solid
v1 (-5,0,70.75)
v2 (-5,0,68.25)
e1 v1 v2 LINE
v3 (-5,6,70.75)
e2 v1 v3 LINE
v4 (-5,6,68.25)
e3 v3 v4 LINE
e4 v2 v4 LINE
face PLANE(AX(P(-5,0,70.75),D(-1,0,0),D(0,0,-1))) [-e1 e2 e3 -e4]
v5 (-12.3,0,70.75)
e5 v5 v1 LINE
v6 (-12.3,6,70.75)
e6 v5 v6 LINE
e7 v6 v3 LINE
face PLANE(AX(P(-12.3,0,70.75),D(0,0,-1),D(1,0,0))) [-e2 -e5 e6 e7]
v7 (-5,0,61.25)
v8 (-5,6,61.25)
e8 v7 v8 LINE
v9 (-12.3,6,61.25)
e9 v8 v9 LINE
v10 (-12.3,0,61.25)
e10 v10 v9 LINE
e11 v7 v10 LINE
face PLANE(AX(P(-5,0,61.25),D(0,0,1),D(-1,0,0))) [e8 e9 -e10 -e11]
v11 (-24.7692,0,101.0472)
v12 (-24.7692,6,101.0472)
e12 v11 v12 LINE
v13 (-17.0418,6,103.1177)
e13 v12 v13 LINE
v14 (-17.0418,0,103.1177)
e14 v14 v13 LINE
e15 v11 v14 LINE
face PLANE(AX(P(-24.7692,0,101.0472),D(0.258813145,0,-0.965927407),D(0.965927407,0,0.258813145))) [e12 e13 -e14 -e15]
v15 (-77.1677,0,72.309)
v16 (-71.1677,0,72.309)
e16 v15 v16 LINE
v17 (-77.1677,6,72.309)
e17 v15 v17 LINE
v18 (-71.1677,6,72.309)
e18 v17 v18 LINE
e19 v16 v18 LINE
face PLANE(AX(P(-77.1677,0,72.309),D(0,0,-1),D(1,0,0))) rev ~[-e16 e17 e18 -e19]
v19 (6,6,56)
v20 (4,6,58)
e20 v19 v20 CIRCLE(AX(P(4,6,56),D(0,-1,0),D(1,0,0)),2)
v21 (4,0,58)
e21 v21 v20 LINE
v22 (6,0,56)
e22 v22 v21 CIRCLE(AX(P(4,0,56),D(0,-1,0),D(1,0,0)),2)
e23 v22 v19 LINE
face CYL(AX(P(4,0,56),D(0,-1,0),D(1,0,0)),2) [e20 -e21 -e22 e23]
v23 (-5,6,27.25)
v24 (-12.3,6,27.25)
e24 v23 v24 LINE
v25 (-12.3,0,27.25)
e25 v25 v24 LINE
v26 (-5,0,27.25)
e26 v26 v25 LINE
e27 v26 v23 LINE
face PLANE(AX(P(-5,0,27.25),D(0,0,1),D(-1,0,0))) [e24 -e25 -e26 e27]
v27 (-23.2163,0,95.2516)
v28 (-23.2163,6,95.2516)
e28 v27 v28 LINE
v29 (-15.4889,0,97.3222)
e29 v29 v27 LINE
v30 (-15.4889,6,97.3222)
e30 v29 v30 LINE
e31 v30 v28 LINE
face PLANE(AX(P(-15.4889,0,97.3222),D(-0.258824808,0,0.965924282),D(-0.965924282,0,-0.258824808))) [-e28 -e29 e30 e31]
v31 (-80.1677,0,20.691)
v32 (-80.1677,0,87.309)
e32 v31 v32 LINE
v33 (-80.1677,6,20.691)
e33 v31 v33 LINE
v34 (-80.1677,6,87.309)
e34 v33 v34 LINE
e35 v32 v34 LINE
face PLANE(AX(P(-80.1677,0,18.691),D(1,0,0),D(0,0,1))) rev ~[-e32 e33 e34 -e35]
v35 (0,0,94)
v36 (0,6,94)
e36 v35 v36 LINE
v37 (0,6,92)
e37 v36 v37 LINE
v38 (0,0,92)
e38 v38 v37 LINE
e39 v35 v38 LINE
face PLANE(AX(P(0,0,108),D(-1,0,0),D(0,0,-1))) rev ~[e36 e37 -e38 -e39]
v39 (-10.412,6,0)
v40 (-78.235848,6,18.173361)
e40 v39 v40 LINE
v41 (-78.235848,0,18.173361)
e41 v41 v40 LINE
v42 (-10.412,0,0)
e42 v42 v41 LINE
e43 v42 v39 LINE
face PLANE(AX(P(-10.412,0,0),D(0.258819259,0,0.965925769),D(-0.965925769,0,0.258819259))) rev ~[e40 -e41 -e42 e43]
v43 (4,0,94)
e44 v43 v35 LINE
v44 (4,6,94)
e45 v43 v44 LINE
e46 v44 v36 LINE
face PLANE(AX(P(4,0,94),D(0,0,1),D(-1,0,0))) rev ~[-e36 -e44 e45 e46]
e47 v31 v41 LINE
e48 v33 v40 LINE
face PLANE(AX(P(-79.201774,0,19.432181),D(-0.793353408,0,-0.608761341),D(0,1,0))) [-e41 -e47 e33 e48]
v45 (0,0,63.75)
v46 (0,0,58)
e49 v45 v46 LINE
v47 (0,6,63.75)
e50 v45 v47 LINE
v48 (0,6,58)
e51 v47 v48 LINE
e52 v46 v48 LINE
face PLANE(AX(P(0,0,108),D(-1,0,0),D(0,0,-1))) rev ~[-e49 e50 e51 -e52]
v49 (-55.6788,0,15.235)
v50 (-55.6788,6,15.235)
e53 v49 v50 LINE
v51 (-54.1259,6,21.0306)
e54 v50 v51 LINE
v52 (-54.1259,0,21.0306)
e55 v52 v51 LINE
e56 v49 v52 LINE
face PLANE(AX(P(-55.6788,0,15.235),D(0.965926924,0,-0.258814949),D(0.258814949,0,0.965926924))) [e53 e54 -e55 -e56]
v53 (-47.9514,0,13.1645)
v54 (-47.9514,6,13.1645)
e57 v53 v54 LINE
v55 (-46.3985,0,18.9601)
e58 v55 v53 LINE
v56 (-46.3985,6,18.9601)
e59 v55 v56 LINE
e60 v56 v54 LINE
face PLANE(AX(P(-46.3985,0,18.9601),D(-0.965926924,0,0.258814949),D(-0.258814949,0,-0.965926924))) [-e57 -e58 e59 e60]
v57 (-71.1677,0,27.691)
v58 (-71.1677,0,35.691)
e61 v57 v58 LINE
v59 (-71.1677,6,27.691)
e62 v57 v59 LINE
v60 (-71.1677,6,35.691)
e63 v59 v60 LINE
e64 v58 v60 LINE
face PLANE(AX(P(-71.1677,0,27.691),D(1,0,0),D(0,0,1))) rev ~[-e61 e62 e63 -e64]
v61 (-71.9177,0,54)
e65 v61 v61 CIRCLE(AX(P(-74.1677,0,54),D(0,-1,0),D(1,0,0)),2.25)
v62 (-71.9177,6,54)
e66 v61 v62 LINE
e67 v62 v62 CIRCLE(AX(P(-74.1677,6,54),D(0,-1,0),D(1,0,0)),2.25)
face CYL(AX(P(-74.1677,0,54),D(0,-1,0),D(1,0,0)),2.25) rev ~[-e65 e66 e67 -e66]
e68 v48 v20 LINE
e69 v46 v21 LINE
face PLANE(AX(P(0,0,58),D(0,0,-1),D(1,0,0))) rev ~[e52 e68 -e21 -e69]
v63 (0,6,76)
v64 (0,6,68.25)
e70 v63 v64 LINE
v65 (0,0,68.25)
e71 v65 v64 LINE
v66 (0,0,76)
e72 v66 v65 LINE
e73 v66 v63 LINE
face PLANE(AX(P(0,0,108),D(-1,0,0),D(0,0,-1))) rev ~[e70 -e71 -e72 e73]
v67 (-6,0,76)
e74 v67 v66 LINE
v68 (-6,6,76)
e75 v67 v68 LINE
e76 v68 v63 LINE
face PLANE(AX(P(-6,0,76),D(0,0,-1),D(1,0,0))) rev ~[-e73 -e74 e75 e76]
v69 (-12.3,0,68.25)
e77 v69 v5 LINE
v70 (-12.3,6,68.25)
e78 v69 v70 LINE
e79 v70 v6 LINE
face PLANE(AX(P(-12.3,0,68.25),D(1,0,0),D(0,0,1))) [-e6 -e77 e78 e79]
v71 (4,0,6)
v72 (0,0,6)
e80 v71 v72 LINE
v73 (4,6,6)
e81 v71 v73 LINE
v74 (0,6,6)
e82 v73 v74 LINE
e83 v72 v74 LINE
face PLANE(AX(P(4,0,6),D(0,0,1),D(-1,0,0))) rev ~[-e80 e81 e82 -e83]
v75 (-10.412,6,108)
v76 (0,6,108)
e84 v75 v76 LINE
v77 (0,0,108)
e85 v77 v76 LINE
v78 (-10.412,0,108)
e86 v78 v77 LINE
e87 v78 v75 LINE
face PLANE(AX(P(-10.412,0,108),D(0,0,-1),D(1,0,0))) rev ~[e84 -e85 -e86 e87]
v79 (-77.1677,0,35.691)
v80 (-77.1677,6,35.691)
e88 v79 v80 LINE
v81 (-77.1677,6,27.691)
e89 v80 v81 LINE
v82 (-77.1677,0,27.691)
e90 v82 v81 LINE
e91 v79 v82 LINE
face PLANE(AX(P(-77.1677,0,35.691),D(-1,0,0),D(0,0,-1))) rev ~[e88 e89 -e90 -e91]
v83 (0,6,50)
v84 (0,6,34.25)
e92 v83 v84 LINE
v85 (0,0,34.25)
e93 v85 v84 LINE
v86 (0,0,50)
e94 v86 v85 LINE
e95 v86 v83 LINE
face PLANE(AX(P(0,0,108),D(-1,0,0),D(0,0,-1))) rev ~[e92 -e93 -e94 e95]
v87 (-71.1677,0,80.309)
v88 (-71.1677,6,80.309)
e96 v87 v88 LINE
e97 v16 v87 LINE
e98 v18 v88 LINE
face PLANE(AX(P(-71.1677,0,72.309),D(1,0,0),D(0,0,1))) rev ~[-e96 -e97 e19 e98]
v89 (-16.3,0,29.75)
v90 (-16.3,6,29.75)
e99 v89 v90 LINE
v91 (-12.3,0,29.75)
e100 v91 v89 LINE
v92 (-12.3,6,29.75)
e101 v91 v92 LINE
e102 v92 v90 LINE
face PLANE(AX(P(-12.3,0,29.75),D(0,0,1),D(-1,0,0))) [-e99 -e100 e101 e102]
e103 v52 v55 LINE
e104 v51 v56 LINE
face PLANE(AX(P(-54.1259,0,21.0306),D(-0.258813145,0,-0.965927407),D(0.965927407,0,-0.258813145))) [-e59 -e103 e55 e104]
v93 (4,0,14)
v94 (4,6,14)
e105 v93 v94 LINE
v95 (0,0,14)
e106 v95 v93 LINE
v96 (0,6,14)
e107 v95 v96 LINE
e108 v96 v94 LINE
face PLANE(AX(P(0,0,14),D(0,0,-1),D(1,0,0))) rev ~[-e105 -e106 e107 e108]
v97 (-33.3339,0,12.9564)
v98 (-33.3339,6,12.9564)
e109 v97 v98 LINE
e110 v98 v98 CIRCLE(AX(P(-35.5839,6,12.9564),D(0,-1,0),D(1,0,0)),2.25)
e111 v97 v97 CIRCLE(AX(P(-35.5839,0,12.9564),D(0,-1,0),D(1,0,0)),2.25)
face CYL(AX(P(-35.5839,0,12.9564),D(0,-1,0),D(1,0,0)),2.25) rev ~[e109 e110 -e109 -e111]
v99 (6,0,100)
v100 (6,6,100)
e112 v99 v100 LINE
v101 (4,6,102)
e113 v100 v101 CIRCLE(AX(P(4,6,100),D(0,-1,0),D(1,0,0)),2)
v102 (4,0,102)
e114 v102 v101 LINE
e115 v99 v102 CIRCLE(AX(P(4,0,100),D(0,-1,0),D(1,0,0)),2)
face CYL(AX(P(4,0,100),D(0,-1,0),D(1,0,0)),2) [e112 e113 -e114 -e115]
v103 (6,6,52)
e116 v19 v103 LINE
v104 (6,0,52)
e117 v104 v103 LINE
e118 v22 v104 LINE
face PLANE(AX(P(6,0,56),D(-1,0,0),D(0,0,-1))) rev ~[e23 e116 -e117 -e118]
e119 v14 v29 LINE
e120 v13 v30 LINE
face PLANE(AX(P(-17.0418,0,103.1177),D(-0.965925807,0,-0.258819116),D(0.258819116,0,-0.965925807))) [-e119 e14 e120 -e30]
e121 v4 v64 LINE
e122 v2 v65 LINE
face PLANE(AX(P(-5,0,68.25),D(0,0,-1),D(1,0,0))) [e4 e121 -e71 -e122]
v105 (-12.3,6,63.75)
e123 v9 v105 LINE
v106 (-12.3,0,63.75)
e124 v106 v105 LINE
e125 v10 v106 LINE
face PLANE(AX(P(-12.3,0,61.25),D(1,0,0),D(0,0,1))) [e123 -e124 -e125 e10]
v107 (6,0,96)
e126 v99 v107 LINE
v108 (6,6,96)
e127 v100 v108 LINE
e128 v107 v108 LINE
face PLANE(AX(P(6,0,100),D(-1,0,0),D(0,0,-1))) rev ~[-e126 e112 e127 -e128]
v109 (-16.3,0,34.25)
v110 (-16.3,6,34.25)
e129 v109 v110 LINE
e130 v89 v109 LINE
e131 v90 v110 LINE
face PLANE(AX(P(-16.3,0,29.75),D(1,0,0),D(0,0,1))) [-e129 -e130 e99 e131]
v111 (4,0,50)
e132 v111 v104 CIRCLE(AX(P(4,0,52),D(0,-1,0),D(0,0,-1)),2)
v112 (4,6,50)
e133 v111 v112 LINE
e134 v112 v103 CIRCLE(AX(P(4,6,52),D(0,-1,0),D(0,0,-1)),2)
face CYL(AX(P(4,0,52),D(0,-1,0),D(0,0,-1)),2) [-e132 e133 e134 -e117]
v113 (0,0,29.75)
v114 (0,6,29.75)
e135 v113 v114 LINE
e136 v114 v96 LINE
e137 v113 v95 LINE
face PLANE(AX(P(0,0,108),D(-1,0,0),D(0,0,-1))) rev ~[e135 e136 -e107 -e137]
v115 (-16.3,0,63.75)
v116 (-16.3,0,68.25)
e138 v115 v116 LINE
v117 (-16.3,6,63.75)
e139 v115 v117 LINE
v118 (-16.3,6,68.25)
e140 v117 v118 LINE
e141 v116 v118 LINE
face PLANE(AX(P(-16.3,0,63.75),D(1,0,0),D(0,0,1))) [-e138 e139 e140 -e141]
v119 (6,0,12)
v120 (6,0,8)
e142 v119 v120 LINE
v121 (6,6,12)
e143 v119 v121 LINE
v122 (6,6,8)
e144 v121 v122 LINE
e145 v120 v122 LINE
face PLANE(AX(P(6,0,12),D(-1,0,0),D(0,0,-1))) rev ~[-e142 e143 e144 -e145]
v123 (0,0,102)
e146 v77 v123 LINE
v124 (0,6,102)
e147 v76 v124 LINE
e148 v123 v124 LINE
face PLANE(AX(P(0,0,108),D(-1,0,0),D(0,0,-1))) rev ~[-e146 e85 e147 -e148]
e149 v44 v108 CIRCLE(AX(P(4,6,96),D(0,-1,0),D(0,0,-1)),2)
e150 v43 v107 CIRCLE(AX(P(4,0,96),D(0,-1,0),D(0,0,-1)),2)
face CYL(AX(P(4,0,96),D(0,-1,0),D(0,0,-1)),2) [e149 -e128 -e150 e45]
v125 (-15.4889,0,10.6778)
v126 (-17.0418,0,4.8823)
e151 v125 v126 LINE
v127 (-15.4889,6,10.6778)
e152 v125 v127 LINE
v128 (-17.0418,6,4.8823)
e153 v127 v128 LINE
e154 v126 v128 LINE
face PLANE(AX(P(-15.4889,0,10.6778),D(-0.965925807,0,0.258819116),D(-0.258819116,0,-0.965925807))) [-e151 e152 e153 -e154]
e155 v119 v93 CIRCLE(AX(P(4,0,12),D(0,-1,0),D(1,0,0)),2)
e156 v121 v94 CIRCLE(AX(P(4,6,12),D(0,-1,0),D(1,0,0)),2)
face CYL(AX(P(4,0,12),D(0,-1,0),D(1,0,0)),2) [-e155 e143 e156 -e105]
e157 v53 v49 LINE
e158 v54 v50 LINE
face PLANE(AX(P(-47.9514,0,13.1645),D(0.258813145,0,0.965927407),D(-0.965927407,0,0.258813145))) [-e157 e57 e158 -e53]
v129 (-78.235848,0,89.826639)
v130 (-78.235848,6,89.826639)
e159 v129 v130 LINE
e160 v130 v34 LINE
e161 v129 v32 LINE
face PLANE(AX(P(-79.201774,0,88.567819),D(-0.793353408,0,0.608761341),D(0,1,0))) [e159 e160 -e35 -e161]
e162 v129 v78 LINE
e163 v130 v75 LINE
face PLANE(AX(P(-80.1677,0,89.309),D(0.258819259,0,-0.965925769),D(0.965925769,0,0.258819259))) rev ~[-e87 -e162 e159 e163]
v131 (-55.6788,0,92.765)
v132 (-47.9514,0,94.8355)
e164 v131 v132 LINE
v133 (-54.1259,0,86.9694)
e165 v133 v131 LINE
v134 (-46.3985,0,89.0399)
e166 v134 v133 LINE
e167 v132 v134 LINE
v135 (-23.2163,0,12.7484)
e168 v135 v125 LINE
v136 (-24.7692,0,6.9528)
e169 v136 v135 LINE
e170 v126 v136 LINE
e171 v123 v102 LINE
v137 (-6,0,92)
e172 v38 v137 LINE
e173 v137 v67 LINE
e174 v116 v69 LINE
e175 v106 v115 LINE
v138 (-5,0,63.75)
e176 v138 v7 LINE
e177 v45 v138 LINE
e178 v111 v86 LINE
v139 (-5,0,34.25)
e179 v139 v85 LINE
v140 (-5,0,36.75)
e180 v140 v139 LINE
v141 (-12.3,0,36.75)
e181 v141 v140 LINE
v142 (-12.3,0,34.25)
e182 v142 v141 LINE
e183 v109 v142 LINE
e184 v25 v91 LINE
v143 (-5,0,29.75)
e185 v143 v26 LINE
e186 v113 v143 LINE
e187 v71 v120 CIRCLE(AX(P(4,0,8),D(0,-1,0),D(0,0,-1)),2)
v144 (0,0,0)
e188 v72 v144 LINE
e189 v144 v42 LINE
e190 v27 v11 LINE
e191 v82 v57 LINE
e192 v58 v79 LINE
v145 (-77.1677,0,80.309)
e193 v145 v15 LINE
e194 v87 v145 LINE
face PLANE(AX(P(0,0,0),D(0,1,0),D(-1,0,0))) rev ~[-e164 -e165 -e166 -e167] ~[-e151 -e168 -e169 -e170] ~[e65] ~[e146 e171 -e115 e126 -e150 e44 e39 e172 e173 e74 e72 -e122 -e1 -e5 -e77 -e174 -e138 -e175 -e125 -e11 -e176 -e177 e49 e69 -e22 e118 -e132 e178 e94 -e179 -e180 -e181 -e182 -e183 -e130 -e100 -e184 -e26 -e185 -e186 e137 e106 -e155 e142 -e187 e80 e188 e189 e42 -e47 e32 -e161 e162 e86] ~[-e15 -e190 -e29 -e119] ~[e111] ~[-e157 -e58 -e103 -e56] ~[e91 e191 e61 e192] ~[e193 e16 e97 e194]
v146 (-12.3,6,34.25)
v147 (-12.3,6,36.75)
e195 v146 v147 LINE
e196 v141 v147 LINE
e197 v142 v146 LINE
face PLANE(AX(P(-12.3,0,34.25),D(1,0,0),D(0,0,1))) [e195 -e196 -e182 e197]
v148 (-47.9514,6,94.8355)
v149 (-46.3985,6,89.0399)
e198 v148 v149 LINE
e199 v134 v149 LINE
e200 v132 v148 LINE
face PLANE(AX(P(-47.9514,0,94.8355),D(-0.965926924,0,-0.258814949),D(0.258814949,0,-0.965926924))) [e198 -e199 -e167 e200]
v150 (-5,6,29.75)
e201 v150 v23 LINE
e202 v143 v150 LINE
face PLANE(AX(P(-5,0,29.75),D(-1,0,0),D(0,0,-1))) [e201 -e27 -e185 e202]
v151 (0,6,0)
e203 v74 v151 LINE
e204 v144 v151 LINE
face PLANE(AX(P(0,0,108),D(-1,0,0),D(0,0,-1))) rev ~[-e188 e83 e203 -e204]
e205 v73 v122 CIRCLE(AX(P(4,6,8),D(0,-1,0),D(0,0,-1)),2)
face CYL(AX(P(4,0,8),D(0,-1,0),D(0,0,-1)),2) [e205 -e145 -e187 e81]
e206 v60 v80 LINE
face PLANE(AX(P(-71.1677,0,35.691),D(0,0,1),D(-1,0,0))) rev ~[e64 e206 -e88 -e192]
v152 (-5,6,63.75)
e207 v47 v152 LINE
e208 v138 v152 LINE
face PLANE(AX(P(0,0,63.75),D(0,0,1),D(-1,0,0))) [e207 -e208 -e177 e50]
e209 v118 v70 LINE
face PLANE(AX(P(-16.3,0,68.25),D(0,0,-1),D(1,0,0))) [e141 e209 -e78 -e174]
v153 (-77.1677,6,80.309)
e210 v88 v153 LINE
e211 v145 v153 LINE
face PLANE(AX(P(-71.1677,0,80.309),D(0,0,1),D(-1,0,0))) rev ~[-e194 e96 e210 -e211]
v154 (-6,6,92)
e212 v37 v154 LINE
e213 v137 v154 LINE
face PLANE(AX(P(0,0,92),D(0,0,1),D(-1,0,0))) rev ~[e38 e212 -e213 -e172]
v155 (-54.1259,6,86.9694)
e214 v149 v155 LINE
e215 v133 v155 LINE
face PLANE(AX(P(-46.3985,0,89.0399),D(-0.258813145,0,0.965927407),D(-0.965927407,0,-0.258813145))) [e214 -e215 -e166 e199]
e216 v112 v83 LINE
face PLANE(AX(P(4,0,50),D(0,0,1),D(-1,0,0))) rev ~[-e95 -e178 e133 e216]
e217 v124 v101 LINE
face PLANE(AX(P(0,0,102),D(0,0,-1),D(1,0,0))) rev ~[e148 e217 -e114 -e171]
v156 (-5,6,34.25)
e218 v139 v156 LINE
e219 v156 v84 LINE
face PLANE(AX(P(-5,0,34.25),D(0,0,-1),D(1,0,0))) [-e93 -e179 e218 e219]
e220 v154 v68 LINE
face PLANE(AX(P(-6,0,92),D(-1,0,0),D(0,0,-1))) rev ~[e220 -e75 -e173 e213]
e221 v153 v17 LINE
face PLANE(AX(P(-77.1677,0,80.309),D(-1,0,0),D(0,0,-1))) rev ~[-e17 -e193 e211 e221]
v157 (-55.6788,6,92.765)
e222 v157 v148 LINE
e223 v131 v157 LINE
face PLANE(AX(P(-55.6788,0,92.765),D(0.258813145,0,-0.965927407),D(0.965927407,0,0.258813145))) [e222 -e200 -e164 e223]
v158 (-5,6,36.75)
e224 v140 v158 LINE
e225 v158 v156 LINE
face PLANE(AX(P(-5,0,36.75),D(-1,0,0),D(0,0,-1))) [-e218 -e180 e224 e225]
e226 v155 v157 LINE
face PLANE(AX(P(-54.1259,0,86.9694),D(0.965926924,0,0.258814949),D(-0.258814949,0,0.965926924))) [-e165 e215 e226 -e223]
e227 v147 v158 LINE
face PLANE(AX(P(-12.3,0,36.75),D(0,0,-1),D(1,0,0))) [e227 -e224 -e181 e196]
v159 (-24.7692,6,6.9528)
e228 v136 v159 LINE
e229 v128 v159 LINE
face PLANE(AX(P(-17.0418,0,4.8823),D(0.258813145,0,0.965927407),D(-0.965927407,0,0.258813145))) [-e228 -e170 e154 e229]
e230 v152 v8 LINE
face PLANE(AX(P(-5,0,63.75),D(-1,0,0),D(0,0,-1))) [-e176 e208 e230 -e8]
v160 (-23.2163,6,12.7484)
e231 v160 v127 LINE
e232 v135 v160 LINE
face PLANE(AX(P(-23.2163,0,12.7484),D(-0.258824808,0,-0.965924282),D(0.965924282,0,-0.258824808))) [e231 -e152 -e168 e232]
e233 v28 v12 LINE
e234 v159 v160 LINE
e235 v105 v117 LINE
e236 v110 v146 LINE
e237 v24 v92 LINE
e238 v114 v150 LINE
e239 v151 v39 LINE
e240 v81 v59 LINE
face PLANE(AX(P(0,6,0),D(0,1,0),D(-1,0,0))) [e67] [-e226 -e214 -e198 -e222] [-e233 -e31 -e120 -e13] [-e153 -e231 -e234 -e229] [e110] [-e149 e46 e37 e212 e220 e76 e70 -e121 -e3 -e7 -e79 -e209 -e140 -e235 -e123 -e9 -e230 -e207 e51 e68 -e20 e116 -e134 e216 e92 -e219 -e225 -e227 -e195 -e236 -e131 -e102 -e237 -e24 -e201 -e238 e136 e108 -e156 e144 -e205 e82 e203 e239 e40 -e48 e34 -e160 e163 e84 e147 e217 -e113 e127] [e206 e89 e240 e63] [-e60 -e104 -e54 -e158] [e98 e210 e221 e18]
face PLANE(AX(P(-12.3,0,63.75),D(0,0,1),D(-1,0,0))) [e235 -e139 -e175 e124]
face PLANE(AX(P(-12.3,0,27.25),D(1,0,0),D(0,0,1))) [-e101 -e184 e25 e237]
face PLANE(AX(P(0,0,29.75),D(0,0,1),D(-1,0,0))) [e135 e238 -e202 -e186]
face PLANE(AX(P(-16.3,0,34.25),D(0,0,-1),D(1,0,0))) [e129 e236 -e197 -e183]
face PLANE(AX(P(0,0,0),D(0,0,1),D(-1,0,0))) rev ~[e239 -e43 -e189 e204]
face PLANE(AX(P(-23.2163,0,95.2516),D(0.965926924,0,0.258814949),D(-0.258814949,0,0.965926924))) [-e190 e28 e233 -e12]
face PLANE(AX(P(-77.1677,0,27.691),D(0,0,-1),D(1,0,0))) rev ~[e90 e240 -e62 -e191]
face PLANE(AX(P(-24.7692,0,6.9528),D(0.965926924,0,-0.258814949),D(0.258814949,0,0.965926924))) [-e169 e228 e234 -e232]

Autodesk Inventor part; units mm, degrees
ref_plane "YZ Plane" through (0, 0, 0) normal (1, 0, 0) x (0, 1, 0)
ref_plane "XZ Plane" through (0, 0, 0) normal (0, 1, 0) x (-1, 0, 0)
ref_plane "XY Plane" through (0, 0, 0) normal (0, 0, 1) x (1, 0, 0)
sketch "Sketch1" plane through (0, 0, 0) normal (0, 1, 0) x (-1, 0, 0)
  line L0 (0, 108) -> (0, 0)
  line L1 (0, 0) -> (10.412, 0)
  line L2 (10.412, 0) -> (80.1677, 18.691)
  line L3 (80.1677, 18.691) -> (80.1677, 89.309)
  line L4 (80.1677, 89.309) -> (10.412, 108)
  line L5 (10.412, 108) -> (0, 108)
  line L6 (2.5529, 107) -> (1, 101.2044) construction
  line L7 (1, 101.2044) -> (68.6148, 83.0871) construction
  line L8 (68.6148, 83.0871) -> (70.1677, 88.8827) construction
  line L9 (70.1677, 88.8827) -> (2.5529, 107) construction
  line L10 (1, 6.7956) -> (2.5529, 1) construction
  line L11 (2.5529, 1) -> (70.1677, 19.1173) construction
  line L12 (70.1677, 19.1173) -> (68.6148, 24.9129) construction
  line L13 (68.6148, 24.9129) -> (1, 6.7956) construction
  line L14 (71.1677, 88.309) -> (77.1677, 88.309) construction
  line L15 (77.1677, 88.309) -> (77.1677, 19.691) construction
  line L16 (77.1677, 19.691) -> (71.1677, 19.691) construction
  line L17 (71.1677, 19.691) -> (71.1677, 88.309) construction
  line L18 (17.0418, 103.1177) -> (15.4889, 97.3222)
  line L19 (15.4889, 97.3222) -> (23.2163, 95.2516)
  line L20 (23.2163, 95.2516) -> (24.7692, 101.0472)
  line L21 (24.7692, 101.0472) -> (17.0418, 103.1177)
  line L22 (47.9514, 94.8355) -> (46.3985, 89.0399)
  line L23 (46.3985, 89.0399) -> (54.1259, 86.9694)
  line L24 (54.1259, 86.9694) -> (55.6788, 92.765)
  line L25 (55.6788, 92.765) -> (47.9514, 94.8355)
  line L26 (15.4889, 10.6778) -> (17.0418, 4.8823)
  line L27 (17.0418, 4.8823) -> (24.7692, 6.9528)
  line L28 (24.7692, 6.9528) -> (23.2163, 12.7484)
  line L29 (23.2163, 12.7484) -> (15.4889, 10.6778)
  line L30 (46.3985, 18.9601) -> (47.9514, 13.1645)
  line L31 (47.9514, 13.1645) -> (55.6788, 15.235)
  line L32 (55.6788, 15.235) -> (54.1259, 21.0306)
  line L33 (54.1259, 21.0306) -> (46.3985, 18.9601)
  line L34 (54.9024, 89.8672) -> (69.3913, 85.9849) construction
  line L35 (16.2653, 7.7801) -> (1.7765, 3.8978) construction
  line L36 (54.9024, 18.1328) -> (69.3913, 22.0151) construction
  line L37 (16.2653, 100.2199) -> (1.7765, 104.1022) construction
  line L38 (71.1677, 80.309) -> (77.1677, 80.309)
  line L39 (77.1677, 80.309) -> (77.1677, 72.309)
  line L40 (77.1677, 72.309) -> (71.1677, 72.309)
  line L41 (71.1677, 72.309) -> (71.1677, 80.309)
  line L42 (71.1677, 35.691) -> (77.1677, 35.691)
  line L43 (77.1677, 35.691) -> (77.1677, 27.691)
  line L44 (77.1677, 27.691) -> (71.1677, 27.691)
  line L45 (71.1677, 27.691) -> (71.1677, 35.691)
  line L46 (74.1677, 80.309) -> (74.1677, 88.309) construction
  line L47 (74.1677, 27.691) -> (74.1677, 19.691) construction
  dimension "d0" = 70
  dimension "d1" = 6
  dimension "d3" = 70
  dimension "d4" = 6
  dimension "d7" = 3
  dimension "d8" = 3
  dimension "d9" = 6
  dimension "d10" = 3
  dimension "d11" = 1
  dimension "d12" = 1
  dimension "d13" = 1
  dimension "d14" = 1
  dimension "d15" = 15
  dimension "d16" = 1
  dimension "d17" = 1
  dimension "d18" = 1
  dimension "d19" = 108
  dimension "d20" = 8
  dimension "d21" = 15
  dimension "d22" = 8
extrude "Extrusion7" add sketch "Sketch1" along normal blind 6
sketch "Sketch7" plane through (0, 0, 0) normal (0, -1, 0) x (1, 0, 0)
  line L0 (0, 0) -> (0, 108) projected
  line L1 (0, 92) -> (-6, 92)
  line L2 (-6, 92) -> (-6, 76)
  line L3 (-6, 76) -> (0, 76)
  line L4 (0, 76) -> (0, 92)
  dimension "d74" = 16
  dimension "d75" = 16
  dimension "d76" = 6
extrude "Extrusion8" cut sketch "Sketch7" against normal blind 6
sketch "Sketch8" plane through (0, 0, 0) normal (0, -1, 0) x (1, 0, 0)
  line L0 (-77.1677, 72.309) -> (-71.1677, 35.691) construction
  line L1 (-77.1677, 35.691) -> (-71.1677, 72.309) construction
  circle A0 centre (-74.1677, 54) radius 2.25
  dimension "d80" = 4.5
extrude "Extrusion9" cut sketch "Sketch8" against normal blind 6
sketch "Sketch9" plane through (0, 0, 0) normal (0, -1, 0) x (1, 0, 0)
  line L0 (-46.3985, 18.9601) -> (-24.7692, 6.9528) construction
  line L1 (-23.2163, 12.7484) -> (-47.9514, 13.1645) construction
  circle A0 centre (-35.5839, 12.9564) radius 2.25
  dimension "d83" = 4.5
extrude "Extrusion10" cut sketch "Sketch9" against normal blind 6
sketch "Sketch10" plane through (0, 0, 0) normal (0, -1, 0) x (1, 0, 0)
  line L0 (0, 0) -> (0, 76) projected
  line L1 (0, 68.25) -> (0, 63.75)
  line L2 (-16.3, 63.75) -> (-16.3, 68.25)
  line L3 (-12.3, 70.75) -> (-5, 70.75)
  line L4 (-5, 61.25) -> (-12.3, 61.25)
  line L5 (-16.3, 68.25) -> (-12.3, 68.25)
  line L6 (-5, 68.25) -> (0, 68.25)
  line L7 (0, 63.75) -> (-5, 63.75)
  line L8 (-12.3, 63.75) -> (-16.3, 63.75)
  line L9 (-12.3, 61.25) -> (-12.3, 63.75)
  line L10 (-12.3, 68.25) -> (-12.3, 70.75)
  line L11 (-5, 70.75) -> (-5, 68.25)
  line L12 (-5, 63.75) -> (-5, 61.25)
  line L13 (0, 34.25) -> (0, 29.75)
  line L14 (-16.3, 29.75) -> (-16.3, 34.25)
  line L15 (-12.3, 36.75) -> (-5, 36.75)
  line L16 (-5, 27.25) -> (-12.3, 27.25)
  line L17 (-16.3, 34.25) -> (-12.3, 34.25)
  line L18 (-5, 34.25) -> (0, 34.25)
  line L19 (0, 29.75) -> (-5, 29.75)
  line L20 (-12.3, 29.75) -> (-16.3, 29.75)
  line L21 (-12.3, 27.25) -> (-12.3, 29.75)
  line L22 (-12.3, 34.25) -> (-12.3, 36.75)
  line L23 (-5, 36.75) -> (-5, 34.25)
  line L24 (-5, 29.75) -> (-5, 27.25)
  point P0 (0, 108)
  point P1 (-16.3, 66)
  point P2 (-16.3, 32)
  dimension "d86" = 4.5
  dimension "d87" = 2.5
  dimension "d88" = 2.5
  dimension "d89" = 5
  dimension "d90" = 7.3
  dimension "d91" = 4
  dimension "d92" = 4.5
  dimension "d93" = 2.5
  dimension "d94" = 2.5
  dimension "d95" = 5
  dimension "d96" = 7.3
  dimension "d97" = 4
  dimension "d98" = 42
  dimension "d99" = 34
extrude "Extrusion11" cut sketch "Sketch10" against normal blind 6
chamfer "Chamfer2" distance 2 angle 45 2 edges at (-80.1677, 3, 89.309) (-80.1677, 3, 18.691)
sketch "Sketch11" plane through (0, 0, 0) normal (0, -1, 0) x (1, 0, 0)
  line L0 (0, 0) -> (0, 29.75) projected
  line L1 (0, 34.25) -> (0, 63.75) projected
  line L2 (0, 92) -> (0, 108) projected
  line L3 (0, 108) -> (-10.412, 108) projected
  line L4 (0, 102) -> (4, 102)
  line L5 (6, 100) -> (6, 96)
  line L6 (4, 94) -> (0, 94)
  line L7 (0, 94) -> (0, 102)
  line L8 (0, 58) -> (4, 58)
  line L9 (6, 56) -> (6, 52)
  line L10 (4, 50) -> (0, 50)
  line L11 (0, 50) -> (0, 58)
  line L12 (0, 14) -> (4, 14)
  line L13 (6, 12) -> (6, 8)
  line L14 (4, 6) -> (0, 6)
  line L15 (0, 6) -> (0, 14)
  arc A0 (6, 100) -> (4, 102) centre (4, 100) ccw
  arc A1 (4, 94) -> (6, 96) centre (4, 96) ccw
  arc A2 (6, 56) -> (4, 58) centre (4, 56) ccw
  arc A3 (4, 50) -> (6, 52) centre (4, 52) ccw
  arc A4 (6, 12) -> (4, 14) centre (4, 12) ccw
  arc A5 (4, 6) -> (6, 8) centre (4, 8) ccw
  dimension "d105" = 2
  dimension "d106" = 8
  dimension "d107" = 8
  dimension "d108" = 8
  dimension "d109" = 6
  dimension "d110" = 6
  dimension "d111" = 36
  dimension "d112" = 36
extrude "Extrusion12" add sketch "Sketch11" against normal blind 6
equation "\"d3\" = d0"
equation "\"d4\" = d1"
equation "\"d8\" = d7"
equation "\"d9\" = d1"
equation "\"d10\" = d7"
equation "\"d12\" = d11"
equation "\"d88\" = d87"
equation "\"d94\" = d93"
properties part number "front_panel_2004_brace_right"
